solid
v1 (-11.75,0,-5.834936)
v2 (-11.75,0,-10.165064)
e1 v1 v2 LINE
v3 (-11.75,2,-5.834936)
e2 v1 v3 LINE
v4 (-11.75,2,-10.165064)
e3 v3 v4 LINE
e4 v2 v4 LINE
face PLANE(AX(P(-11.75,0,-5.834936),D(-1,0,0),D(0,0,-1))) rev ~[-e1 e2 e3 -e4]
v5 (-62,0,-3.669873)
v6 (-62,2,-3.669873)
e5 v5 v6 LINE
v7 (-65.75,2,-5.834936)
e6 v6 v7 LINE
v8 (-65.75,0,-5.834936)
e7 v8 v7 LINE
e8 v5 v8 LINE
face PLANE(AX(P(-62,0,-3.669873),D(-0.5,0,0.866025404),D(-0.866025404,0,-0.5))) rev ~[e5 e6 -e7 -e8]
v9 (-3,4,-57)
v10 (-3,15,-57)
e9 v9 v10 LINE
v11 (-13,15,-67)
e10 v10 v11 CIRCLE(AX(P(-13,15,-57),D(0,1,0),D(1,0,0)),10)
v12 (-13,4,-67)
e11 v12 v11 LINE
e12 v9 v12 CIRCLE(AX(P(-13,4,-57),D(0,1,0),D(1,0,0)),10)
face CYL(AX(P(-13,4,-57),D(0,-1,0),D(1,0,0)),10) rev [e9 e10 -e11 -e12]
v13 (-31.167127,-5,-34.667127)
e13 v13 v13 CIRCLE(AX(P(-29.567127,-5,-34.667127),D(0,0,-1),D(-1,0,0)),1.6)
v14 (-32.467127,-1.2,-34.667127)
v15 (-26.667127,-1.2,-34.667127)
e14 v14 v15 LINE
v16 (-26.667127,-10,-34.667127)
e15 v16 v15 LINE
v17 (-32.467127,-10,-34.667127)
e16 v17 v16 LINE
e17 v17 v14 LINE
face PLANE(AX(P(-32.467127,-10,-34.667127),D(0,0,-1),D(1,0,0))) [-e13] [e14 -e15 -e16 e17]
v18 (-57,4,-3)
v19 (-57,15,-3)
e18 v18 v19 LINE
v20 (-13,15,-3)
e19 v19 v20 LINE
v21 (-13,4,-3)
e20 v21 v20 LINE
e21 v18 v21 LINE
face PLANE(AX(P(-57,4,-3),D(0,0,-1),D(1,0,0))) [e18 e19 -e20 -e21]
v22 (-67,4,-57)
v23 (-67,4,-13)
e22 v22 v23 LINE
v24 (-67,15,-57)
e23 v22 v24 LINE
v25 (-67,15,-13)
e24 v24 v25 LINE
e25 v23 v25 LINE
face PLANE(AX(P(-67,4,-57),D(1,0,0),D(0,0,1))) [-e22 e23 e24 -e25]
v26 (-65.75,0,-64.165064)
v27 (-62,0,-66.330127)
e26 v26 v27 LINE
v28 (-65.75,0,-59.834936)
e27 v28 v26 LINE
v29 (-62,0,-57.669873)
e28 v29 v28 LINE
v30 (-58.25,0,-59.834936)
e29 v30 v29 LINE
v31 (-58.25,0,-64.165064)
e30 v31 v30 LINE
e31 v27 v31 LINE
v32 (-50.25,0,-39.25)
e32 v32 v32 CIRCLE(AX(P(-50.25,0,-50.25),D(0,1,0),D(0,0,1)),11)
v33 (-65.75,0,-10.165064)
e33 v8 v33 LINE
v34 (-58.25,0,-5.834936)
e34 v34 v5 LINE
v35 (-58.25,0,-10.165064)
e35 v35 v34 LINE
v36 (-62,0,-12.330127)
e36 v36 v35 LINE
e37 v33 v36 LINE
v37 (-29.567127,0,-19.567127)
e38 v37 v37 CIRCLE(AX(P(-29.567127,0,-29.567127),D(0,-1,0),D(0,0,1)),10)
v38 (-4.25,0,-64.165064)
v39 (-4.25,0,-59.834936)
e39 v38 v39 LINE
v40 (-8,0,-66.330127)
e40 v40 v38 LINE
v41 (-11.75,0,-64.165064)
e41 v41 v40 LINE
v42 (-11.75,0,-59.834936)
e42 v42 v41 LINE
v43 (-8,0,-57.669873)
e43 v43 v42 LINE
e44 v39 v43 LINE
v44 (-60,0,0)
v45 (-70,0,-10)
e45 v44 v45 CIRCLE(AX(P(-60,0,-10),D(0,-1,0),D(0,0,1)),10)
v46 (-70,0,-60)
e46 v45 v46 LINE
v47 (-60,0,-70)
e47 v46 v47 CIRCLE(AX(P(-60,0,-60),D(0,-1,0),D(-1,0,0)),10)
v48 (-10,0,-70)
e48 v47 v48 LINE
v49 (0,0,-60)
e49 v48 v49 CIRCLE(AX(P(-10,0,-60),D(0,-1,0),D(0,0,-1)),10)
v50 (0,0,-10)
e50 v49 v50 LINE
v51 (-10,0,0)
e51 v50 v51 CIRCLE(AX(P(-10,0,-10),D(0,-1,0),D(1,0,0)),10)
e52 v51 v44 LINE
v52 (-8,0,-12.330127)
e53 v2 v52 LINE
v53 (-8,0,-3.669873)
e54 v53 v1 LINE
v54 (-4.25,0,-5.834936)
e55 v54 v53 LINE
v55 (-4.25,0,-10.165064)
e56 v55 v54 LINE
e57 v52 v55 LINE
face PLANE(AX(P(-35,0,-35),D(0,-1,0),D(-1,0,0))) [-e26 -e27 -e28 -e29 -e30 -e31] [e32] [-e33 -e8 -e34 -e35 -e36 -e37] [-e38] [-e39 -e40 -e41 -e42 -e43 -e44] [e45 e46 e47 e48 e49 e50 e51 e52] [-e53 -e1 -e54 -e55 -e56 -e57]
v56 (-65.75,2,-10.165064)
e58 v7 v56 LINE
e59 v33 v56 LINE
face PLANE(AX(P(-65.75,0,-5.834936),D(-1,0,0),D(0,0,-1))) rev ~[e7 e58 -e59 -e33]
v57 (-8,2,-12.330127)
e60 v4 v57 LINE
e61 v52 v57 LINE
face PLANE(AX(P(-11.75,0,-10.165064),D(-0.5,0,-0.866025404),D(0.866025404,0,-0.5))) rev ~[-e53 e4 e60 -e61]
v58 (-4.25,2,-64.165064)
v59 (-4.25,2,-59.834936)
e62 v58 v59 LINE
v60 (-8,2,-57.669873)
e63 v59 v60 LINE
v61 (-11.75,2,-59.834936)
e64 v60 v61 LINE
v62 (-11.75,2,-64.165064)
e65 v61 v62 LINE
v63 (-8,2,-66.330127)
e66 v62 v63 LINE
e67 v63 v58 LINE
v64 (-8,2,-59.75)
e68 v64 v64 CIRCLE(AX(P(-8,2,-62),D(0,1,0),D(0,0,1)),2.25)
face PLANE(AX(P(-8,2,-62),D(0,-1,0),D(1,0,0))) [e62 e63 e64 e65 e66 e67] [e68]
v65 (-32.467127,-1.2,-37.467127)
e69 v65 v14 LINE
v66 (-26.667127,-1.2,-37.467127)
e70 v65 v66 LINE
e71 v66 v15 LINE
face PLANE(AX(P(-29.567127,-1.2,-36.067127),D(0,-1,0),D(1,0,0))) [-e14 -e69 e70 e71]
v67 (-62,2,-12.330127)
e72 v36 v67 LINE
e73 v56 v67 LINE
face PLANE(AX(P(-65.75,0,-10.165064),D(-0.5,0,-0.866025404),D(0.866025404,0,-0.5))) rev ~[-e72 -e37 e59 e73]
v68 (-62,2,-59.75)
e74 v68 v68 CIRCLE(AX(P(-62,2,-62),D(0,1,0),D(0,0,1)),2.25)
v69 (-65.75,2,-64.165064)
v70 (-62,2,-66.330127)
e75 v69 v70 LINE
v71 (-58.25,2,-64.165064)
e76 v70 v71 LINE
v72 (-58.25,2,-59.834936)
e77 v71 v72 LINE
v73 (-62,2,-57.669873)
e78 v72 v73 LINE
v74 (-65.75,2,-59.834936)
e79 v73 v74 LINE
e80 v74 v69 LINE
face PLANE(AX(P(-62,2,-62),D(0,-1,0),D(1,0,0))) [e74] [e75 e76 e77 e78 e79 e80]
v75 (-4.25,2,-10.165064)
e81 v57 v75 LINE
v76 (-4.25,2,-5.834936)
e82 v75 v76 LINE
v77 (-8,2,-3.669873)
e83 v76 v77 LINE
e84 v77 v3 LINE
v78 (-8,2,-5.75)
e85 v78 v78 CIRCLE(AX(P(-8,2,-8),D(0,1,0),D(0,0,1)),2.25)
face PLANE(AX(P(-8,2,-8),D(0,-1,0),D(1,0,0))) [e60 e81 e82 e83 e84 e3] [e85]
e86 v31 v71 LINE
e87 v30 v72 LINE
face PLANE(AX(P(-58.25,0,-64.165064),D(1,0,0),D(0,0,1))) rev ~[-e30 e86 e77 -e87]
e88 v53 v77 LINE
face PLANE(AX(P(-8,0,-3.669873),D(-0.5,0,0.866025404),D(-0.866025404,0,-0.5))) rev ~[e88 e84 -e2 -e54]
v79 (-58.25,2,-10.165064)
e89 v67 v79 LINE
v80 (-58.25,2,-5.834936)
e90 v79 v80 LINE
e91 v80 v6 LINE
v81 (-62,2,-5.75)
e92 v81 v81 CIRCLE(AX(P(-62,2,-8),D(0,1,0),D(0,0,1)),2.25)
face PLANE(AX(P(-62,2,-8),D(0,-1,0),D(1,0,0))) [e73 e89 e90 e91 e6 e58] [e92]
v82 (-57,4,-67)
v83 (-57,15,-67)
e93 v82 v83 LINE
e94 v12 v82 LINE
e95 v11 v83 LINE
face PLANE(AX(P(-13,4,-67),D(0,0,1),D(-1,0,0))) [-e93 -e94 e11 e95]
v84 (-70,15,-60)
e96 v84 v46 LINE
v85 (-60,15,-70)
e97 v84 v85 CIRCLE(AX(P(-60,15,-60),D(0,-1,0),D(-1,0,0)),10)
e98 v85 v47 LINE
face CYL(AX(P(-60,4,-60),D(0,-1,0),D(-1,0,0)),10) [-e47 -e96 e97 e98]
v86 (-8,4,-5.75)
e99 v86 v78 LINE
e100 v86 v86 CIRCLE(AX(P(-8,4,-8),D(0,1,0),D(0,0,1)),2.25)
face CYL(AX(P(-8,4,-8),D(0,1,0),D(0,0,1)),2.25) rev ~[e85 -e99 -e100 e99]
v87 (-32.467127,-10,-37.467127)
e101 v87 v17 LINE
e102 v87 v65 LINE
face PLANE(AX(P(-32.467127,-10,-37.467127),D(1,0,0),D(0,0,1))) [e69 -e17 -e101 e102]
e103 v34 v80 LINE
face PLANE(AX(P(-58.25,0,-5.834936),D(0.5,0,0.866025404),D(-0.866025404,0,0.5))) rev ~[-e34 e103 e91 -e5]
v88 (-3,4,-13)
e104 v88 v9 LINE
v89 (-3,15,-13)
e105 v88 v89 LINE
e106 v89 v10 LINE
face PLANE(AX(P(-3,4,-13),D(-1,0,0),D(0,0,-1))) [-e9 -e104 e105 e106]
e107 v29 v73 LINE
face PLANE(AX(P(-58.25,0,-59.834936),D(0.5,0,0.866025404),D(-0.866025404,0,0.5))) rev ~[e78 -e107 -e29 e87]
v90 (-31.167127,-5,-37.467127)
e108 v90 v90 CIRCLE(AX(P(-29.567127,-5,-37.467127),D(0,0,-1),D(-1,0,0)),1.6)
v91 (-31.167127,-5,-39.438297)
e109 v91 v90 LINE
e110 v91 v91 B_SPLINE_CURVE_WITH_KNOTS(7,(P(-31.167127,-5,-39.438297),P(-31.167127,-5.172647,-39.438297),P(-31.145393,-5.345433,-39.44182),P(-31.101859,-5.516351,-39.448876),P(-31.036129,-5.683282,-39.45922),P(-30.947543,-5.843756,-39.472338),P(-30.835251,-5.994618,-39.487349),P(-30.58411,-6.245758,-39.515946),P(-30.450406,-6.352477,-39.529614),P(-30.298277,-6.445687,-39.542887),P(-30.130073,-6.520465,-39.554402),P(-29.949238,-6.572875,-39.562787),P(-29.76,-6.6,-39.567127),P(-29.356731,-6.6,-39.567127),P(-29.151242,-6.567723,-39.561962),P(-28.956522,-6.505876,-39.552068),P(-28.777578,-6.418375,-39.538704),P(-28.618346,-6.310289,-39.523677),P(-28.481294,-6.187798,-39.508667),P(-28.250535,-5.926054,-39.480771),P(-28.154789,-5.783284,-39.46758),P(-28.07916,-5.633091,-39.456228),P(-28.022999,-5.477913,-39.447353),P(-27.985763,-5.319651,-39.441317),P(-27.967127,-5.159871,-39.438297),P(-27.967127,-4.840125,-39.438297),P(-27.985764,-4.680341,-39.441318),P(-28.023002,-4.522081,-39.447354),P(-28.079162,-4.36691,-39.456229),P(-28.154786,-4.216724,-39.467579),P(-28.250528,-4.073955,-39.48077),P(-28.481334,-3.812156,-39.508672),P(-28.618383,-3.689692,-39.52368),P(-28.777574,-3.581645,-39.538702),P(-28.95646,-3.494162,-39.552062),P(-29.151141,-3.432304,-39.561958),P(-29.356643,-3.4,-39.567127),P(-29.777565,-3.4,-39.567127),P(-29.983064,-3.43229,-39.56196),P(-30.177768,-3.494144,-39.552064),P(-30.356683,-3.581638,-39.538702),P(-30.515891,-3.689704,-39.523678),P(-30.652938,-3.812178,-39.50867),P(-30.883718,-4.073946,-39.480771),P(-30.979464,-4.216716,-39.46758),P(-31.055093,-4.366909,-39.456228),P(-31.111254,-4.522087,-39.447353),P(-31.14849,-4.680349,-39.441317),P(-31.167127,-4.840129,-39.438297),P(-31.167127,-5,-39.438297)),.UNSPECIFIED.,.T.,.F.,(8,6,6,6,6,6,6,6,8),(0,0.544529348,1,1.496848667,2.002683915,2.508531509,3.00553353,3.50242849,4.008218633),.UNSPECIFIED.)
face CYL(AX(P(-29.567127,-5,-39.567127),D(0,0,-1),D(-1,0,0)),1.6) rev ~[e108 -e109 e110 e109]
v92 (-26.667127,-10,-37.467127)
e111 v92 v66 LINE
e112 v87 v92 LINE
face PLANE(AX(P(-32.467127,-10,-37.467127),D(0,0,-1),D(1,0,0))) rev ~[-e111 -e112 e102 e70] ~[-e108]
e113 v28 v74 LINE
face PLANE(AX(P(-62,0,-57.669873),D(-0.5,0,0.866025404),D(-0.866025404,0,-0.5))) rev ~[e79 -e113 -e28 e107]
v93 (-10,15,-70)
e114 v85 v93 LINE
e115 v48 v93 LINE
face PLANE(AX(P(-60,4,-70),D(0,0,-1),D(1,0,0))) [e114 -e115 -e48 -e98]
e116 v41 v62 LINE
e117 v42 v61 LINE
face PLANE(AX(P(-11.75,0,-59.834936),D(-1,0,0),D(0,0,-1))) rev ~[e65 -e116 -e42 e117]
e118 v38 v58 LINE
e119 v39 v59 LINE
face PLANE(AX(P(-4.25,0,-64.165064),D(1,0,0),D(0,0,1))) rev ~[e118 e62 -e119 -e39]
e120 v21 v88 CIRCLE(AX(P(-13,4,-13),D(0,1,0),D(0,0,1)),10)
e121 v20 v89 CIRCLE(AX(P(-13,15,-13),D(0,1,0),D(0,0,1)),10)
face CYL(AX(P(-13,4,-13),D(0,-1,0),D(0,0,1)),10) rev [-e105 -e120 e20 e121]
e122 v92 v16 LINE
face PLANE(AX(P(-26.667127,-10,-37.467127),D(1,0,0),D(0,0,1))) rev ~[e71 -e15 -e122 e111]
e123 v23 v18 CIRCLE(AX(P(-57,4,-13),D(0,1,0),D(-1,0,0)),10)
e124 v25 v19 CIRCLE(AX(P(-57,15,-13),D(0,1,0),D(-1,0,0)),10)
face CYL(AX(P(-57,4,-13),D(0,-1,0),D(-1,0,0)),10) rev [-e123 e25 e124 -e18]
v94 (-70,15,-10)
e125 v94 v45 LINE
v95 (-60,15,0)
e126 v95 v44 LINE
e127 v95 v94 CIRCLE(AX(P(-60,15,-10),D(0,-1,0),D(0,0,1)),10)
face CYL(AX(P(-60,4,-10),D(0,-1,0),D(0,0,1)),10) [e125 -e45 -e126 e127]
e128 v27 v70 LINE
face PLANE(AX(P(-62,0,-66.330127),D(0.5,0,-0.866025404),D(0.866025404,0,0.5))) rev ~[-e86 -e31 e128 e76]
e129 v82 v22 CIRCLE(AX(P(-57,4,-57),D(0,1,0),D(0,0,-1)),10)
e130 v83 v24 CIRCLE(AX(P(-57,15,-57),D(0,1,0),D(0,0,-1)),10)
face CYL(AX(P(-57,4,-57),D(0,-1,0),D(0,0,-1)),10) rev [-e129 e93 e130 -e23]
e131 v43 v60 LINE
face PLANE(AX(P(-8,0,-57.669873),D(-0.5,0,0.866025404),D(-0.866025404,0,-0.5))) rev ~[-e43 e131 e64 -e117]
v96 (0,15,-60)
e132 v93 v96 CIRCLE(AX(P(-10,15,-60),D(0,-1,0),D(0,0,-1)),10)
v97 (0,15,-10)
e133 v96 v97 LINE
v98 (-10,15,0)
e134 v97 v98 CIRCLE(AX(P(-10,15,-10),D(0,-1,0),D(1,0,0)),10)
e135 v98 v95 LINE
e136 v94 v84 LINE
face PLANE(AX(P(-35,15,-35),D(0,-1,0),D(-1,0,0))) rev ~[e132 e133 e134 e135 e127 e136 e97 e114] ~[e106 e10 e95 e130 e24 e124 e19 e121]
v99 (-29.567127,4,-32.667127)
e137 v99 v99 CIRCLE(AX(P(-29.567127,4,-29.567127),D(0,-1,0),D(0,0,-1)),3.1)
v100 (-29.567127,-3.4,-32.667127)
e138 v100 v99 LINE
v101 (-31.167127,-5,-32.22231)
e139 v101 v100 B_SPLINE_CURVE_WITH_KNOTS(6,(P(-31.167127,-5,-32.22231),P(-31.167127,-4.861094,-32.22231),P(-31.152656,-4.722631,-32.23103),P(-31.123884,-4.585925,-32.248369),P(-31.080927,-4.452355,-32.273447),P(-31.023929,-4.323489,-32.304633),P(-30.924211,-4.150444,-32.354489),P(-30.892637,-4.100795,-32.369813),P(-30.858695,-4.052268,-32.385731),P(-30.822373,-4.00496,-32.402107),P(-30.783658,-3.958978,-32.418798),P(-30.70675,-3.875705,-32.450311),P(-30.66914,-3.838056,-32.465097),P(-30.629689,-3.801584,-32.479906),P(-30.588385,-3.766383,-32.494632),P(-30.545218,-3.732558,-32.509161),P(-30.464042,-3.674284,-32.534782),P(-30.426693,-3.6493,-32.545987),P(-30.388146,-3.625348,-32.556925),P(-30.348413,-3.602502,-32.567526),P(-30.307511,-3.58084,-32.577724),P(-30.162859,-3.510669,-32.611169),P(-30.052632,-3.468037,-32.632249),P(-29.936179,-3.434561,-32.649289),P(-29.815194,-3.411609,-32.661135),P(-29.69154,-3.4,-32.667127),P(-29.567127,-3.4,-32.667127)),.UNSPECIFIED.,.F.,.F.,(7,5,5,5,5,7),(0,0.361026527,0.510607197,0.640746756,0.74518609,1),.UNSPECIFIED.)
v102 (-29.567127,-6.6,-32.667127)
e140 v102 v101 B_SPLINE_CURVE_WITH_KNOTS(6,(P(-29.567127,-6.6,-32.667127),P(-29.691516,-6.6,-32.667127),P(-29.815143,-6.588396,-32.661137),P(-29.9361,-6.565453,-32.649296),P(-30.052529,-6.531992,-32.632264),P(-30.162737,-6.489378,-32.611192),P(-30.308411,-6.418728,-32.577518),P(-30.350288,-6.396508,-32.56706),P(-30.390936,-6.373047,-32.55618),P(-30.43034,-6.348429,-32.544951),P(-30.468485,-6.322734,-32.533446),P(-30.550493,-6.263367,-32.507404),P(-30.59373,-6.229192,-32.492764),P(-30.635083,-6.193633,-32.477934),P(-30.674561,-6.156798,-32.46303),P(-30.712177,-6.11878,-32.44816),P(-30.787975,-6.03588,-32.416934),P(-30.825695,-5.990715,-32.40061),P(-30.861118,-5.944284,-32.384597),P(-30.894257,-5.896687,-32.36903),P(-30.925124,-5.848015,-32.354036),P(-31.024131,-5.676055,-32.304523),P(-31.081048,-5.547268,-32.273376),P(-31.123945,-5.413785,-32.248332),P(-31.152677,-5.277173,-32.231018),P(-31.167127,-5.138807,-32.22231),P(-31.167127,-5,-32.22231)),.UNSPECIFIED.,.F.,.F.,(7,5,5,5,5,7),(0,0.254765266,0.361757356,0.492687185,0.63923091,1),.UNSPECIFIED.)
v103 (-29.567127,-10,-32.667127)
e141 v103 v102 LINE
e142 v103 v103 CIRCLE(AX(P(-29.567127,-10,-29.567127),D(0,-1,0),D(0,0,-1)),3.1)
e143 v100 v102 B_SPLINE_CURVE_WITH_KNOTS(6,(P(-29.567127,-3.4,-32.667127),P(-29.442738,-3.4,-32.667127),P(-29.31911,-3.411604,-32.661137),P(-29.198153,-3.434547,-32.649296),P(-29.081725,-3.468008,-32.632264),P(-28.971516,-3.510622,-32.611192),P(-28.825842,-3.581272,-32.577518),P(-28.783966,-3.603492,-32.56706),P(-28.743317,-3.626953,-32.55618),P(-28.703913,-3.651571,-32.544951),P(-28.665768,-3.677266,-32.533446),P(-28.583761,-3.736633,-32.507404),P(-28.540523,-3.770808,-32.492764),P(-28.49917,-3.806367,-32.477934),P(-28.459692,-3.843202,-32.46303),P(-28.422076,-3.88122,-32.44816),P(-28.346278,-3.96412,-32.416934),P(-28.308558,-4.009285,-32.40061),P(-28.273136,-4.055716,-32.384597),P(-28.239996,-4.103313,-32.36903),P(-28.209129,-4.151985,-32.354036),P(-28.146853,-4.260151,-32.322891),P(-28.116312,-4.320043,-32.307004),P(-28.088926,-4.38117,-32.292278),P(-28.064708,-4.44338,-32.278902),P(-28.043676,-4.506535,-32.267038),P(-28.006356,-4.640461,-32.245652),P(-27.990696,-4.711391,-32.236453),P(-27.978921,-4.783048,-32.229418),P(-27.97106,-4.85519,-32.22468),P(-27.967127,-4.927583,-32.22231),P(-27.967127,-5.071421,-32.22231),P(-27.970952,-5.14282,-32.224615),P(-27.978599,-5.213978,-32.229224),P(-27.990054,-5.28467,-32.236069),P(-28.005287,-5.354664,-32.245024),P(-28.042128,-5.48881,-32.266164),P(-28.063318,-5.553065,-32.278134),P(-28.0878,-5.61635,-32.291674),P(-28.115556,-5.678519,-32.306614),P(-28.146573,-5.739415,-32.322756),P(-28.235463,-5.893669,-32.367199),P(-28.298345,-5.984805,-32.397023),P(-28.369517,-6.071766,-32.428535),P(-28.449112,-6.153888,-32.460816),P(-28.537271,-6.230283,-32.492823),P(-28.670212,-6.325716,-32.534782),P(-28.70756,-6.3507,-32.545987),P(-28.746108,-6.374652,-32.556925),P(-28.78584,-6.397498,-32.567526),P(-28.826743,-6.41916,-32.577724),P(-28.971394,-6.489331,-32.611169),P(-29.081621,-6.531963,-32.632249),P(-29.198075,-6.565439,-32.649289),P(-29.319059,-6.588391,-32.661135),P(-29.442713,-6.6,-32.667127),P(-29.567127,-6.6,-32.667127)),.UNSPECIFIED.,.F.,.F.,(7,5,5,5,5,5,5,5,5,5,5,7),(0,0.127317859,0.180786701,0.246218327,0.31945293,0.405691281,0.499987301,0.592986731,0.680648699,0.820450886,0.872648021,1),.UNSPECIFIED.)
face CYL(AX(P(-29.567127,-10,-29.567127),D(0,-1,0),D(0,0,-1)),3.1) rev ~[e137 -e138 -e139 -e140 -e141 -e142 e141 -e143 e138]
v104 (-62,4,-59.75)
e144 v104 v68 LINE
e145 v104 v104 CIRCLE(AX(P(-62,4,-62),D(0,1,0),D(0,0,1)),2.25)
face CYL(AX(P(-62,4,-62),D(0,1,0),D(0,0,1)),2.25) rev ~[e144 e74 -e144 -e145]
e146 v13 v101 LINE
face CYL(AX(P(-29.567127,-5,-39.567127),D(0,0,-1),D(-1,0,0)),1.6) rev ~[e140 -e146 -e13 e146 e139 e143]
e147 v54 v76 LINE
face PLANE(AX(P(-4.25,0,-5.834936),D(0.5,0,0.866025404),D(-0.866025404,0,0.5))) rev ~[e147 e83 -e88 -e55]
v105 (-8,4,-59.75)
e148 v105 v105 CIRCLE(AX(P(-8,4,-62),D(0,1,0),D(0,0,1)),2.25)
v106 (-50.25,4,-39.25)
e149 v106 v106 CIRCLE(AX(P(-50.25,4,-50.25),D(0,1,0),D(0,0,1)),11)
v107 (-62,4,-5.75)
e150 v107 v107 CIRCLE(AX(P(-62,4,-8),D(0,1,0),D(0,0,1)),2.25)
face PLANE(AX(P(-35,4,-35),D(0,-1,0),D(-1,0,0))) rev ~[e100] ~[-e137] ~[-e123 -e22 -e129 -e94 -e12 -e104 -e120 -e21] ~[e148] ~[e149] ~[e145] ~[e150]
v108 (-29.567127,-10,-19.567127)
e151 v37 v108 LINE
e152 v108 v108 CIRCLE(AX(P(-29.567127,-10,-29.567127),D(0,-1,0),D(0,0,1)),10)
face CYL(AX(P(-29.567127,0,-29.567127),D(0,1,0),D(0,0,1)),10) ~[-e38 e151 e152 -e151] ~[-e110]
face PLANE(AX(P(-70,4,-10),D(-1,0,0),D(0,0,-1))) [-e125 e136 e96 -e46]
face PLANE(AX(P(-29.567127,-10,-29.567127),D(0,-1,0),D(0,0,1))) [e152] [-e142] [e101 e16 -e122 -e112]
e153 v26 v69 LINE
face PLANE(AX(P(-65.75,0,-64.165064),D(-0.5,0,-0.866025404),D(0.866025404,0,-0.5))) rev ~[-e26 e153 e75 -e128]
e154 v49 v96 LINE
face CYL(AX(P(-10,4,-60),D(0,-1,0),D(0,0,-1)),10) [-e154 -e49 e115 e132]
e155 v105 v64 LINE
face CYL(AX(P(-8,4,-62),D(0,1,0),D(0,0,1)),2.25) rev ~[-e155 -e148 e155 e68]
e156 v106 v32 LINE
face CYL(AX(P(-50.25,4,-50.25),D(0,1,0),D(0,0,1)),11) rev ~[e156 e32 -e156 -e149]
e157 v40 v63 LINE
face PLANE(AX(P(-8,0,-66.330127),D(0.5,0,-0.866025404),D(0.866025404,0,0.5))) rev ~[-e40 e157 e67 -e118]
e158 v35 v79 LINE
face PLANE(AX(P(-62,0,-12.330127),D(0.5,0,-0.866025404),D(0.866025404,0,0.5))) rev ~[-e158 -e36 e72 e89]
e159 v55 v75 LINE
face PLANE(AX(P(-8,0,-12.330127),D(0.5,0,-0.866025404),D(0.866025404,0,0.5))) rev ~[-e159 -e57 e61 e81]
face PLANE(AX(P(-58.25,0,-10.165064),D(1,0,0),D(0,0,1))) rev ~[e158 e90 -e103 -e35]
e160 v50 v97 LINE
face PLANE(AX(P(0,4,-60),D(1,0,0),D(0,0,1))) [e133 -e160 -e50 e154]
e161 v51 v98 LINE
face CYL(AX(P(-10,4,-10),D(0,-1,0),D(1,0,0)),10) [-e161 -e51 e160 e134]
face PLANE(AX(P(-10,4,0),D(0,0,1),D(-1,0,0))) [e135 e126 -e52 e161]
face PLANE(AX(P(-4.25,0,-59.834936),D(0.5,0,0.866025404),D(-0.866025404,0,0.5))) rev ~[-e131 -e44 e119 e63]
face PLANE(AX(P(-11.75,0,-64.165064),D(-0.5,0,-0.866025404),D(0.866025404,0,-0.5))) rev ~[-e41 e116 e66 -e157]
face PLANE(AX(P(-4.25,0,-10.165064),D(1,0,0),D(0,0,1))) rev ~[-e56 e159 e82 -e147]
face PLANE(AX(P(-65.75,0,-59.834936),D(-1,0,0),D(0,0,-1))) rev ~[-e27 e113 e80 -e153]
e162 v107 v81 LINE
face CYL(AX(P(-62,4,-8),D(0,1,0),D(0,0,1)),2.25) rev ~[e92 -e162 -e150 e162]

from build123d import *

# Parameters (mm, degrees)
SKETCH1_R           = 2.5
BOSS_EXTRUDE2_DEPTH = 4
BOSS_EXTRUDE3_DEPTH = 11
SKETCH4_R           = 11
CUT_EXTRUDE1_DEPTH  = 6
SKETCH5_R           = 10
BOSS_EXTRUDE5_DEPTH = 10
SKETCH6_W           = 5.8
SKETCH6_H           = 2.8
CUT_EXTRUDE2_DEPTH  = 8.8
SKETCH8_R           = 1.6
CUT_EXTRUDE3_DEPTH  = 10
SKETCH10_R          = 3.1
CUT_EXTRUDE5_DEPTH  = 103.102889283
SKETCH11_R          = 2.25
CUT_EXTRUDE6_DEPTH  = 10
CUT_EXTRUDE7_DEPTH  = 2


with BuildPart() as part:
    # Sketch1 → Boss-Extrude2 (new body)
    with BuildSketch(Plane(origin=(0, 0, 0), x_dir=(1, 0, 0), z_dir=(0, 1, 0))):
        with BuildLine():
            Line((-10, 0), (-60, 0))
            ThreePointArc((-60, 0), (-67.071067812, 2.928932188), (-70, 10))
            Line((-70, 10), (-70, 60))
            ThreePointArc((-70, 60), (-67.071067812, 67.071067812), (-60, 70))
            Line((-60, 70), (-10, 70))
            ThreePointArc((-10, 70), (-2.928932188, 67.071067812), (0, 60))
            Line((0, 60), (0, 10))
            ThreePointArc((0, 10), (-2.928932188, 2.928932188), (-10, 0))
        make_face()
        with Locations(Location((-50.25, 50.25, 0), (0, 0, 270))):
            Circle(SKETCH1_R, mode=Mode.SUBTRACT)
        with Locations(Location((-29.56712665, 29.56712665, 0), (0, 0, 270))):
            Circle(SKETCH1_R, mode=Mode.SUBTRACT)
    extrude(amount=BOSS_EXTRUDE2_DEPTH)

    # Sketch2 → Boss-Extrude3 (add)
    with BuildSketch(Plane(origin=(0, 4, 0), x_dir=(1, 0, 0), z_dir=(0, 1, 0))):
        with BuildLine():
            Line((-10, 0), (-60, 0))
            ThreePointArc((-60, 0), (-67.071067812, 2.928932188), (-70, 10))
            Line((-70, 10), (-70, 60))
            ThreePointArc((-70, 60), (-67.071067812, 67.071067812), (-60, 70))
            Line((-60, 70), (-10, 70))
            ThreePointArc((-10, 70), (-2.928932188, 67.071067812), (0, 60))
            Line((0, 60), (0, 10))
            ThreePointArc((0, 10), (-2.928932188, 2.928932188), (-10, 0))
        make_face()
        with BuildLine():
            Line((-3, 13), (-3, 57))
            ThreePointArc((-3, 57), (-5.928932188, 64.071067812), (-13, 67))
            Line((-13, 67), (-57, 67))
            ThreePointArc((-57, 67), (-64.071067812, 64.071067812), (-67, 57))
            Line((-67, 57), (-67, 13))
            ThreePointArc((-67, 13), (-64.071067812, 5.928932188), (-57, 3))
            Line((-57, 3), (-13, 3))
            ThreePointArc((-13, 3), (-5.928932188, 5.928932188), (-3, 13))
        make_face(mode=Mode.SUBTRACT)
    extrude(amount=BOSS_EXTRUDE3_DEPTH)

    # Sketch4 → Cut-Extrude1 (cut)
    with BuildSketch(Plane(origin=(0, 4, 0), x_dir=(1, 0, 0), z_dir=(0, 1, 0))):
        with Locations(Location((-50.25, 50.25, 0), (0, 0, 270))):
            Circle(SKETCH4_R)
    extrude(amount=-CUT_EXTRUDE1_DEPTH, mode=Mode.SUBTRACT)

    # Sketch5 → Boss-Extrude5 (add)
    with BuildSketch(Plane.XZ):
        with Locations(Location((-29.56712665, -29.56712665, 0), (0, 0, 90))):
            Circle(SKETCH5_R)
    extrude(amount=BOSS_EXTRUDE5_DEPTH)

    # Sketch6 → Cut-Extrude2 (cut)
    with BuildSketch(Plane.XZ.offset(10)):
        with Locations((-29.56712665, -36.06712665)):
            Rectangle(SKETCH6_W, SKETCH6_H)
    extrude(amount=-CUT_EXTRUDE2_DEPTH, mode=Mode.SUBTRACT)

    # Sketch8 → Cut-Extrude3 (cut)
    with BuildSketch(Plane(origin=(-29.56712665, -10, -39.56712665), x_dir=(-1, 0, 0), z_dir=(0, 0, -1))):
        with Locations((0, 5)):
            Circle(SKETCH8_R)
    extrude(amount=-CUT_EXTRUDE3_DEPTH, mode=Mode.SUBTRACT)

    # Sketch10 → Cut-Extrude5 (cut, through all)
    with BuildSketch(Plane.XZ.offset(10)):
        with Locations(Location((-29.56712665, -29.56712665, 0), (0, 0, 270))):
            Circle(SKETCH10_R)
    extrude(amount=-CUT_EXTRUDE5_DEPTH, mode=Mode.SUBTRACT)

    # Sketch11 → Cut-Extrude6 (cut)
    with BuildSketch(Plane(origin=(0, 4, 0), x_dir=(1, 0, 0), z_dir=(0, 1, 0))):
        with Locations(Location((-8, 62, 0), (0, 0, 270))):
            Circle(SKETCH11_R)
        with Locations(Location((-62, 62, 0), (0, 0, 270))):
            Circle(SKETCH11_R)
        with Locations(Location((-62, 8, 0), (0, 0, 270))):
            Circle(SKETCH11_R)
        with Locations(Location((-8, 8, 0), (0, 0, 270))):
            Circle(SKETCH11_R)
    extrude(amount=-CUT_EXTRUDE6_DEPTH, mode=Mode.SUBTRACT)

    # Sketch12 → Cut-Extrude7 (cut)
    with BuildSketch(Plane.XZ):
        Polygon((-62, -3.669872981), (-65.75, -5.834936491), (-65.75, -10.165063509), (-62, -12.330127019), (-58.25, -10.165063509), (-58.25, -5.834936491), align=None)
        Polygon((-8, -3.669872981), (-11.75, -5.834936491), (-11.75, -10.165063509), (-8, -12.330127019), (-4.25, -10.165063509), (-4.25, -5.834936491), align=None)
        Polygon((-62, -57.669872981), (-65.75, -59.834936491), (-65.75, -64.165063509), (-62, -66.330127019), (-58.25, -64.165063509), (-58.25, -59.834936491), align=None)
        Polygon((-8, -57.669872981), (-11.75, -59.834936491), (-11.75, -64.165063509), (-8, -66.330127019), (-4.25, -64.165063509), (-4.25, -59.834936491), align=None)
    extrude(amount=-CUT_EXTRUDE7_DEPTH, mode=Mode.SUBTRACT)


solid = part.part
